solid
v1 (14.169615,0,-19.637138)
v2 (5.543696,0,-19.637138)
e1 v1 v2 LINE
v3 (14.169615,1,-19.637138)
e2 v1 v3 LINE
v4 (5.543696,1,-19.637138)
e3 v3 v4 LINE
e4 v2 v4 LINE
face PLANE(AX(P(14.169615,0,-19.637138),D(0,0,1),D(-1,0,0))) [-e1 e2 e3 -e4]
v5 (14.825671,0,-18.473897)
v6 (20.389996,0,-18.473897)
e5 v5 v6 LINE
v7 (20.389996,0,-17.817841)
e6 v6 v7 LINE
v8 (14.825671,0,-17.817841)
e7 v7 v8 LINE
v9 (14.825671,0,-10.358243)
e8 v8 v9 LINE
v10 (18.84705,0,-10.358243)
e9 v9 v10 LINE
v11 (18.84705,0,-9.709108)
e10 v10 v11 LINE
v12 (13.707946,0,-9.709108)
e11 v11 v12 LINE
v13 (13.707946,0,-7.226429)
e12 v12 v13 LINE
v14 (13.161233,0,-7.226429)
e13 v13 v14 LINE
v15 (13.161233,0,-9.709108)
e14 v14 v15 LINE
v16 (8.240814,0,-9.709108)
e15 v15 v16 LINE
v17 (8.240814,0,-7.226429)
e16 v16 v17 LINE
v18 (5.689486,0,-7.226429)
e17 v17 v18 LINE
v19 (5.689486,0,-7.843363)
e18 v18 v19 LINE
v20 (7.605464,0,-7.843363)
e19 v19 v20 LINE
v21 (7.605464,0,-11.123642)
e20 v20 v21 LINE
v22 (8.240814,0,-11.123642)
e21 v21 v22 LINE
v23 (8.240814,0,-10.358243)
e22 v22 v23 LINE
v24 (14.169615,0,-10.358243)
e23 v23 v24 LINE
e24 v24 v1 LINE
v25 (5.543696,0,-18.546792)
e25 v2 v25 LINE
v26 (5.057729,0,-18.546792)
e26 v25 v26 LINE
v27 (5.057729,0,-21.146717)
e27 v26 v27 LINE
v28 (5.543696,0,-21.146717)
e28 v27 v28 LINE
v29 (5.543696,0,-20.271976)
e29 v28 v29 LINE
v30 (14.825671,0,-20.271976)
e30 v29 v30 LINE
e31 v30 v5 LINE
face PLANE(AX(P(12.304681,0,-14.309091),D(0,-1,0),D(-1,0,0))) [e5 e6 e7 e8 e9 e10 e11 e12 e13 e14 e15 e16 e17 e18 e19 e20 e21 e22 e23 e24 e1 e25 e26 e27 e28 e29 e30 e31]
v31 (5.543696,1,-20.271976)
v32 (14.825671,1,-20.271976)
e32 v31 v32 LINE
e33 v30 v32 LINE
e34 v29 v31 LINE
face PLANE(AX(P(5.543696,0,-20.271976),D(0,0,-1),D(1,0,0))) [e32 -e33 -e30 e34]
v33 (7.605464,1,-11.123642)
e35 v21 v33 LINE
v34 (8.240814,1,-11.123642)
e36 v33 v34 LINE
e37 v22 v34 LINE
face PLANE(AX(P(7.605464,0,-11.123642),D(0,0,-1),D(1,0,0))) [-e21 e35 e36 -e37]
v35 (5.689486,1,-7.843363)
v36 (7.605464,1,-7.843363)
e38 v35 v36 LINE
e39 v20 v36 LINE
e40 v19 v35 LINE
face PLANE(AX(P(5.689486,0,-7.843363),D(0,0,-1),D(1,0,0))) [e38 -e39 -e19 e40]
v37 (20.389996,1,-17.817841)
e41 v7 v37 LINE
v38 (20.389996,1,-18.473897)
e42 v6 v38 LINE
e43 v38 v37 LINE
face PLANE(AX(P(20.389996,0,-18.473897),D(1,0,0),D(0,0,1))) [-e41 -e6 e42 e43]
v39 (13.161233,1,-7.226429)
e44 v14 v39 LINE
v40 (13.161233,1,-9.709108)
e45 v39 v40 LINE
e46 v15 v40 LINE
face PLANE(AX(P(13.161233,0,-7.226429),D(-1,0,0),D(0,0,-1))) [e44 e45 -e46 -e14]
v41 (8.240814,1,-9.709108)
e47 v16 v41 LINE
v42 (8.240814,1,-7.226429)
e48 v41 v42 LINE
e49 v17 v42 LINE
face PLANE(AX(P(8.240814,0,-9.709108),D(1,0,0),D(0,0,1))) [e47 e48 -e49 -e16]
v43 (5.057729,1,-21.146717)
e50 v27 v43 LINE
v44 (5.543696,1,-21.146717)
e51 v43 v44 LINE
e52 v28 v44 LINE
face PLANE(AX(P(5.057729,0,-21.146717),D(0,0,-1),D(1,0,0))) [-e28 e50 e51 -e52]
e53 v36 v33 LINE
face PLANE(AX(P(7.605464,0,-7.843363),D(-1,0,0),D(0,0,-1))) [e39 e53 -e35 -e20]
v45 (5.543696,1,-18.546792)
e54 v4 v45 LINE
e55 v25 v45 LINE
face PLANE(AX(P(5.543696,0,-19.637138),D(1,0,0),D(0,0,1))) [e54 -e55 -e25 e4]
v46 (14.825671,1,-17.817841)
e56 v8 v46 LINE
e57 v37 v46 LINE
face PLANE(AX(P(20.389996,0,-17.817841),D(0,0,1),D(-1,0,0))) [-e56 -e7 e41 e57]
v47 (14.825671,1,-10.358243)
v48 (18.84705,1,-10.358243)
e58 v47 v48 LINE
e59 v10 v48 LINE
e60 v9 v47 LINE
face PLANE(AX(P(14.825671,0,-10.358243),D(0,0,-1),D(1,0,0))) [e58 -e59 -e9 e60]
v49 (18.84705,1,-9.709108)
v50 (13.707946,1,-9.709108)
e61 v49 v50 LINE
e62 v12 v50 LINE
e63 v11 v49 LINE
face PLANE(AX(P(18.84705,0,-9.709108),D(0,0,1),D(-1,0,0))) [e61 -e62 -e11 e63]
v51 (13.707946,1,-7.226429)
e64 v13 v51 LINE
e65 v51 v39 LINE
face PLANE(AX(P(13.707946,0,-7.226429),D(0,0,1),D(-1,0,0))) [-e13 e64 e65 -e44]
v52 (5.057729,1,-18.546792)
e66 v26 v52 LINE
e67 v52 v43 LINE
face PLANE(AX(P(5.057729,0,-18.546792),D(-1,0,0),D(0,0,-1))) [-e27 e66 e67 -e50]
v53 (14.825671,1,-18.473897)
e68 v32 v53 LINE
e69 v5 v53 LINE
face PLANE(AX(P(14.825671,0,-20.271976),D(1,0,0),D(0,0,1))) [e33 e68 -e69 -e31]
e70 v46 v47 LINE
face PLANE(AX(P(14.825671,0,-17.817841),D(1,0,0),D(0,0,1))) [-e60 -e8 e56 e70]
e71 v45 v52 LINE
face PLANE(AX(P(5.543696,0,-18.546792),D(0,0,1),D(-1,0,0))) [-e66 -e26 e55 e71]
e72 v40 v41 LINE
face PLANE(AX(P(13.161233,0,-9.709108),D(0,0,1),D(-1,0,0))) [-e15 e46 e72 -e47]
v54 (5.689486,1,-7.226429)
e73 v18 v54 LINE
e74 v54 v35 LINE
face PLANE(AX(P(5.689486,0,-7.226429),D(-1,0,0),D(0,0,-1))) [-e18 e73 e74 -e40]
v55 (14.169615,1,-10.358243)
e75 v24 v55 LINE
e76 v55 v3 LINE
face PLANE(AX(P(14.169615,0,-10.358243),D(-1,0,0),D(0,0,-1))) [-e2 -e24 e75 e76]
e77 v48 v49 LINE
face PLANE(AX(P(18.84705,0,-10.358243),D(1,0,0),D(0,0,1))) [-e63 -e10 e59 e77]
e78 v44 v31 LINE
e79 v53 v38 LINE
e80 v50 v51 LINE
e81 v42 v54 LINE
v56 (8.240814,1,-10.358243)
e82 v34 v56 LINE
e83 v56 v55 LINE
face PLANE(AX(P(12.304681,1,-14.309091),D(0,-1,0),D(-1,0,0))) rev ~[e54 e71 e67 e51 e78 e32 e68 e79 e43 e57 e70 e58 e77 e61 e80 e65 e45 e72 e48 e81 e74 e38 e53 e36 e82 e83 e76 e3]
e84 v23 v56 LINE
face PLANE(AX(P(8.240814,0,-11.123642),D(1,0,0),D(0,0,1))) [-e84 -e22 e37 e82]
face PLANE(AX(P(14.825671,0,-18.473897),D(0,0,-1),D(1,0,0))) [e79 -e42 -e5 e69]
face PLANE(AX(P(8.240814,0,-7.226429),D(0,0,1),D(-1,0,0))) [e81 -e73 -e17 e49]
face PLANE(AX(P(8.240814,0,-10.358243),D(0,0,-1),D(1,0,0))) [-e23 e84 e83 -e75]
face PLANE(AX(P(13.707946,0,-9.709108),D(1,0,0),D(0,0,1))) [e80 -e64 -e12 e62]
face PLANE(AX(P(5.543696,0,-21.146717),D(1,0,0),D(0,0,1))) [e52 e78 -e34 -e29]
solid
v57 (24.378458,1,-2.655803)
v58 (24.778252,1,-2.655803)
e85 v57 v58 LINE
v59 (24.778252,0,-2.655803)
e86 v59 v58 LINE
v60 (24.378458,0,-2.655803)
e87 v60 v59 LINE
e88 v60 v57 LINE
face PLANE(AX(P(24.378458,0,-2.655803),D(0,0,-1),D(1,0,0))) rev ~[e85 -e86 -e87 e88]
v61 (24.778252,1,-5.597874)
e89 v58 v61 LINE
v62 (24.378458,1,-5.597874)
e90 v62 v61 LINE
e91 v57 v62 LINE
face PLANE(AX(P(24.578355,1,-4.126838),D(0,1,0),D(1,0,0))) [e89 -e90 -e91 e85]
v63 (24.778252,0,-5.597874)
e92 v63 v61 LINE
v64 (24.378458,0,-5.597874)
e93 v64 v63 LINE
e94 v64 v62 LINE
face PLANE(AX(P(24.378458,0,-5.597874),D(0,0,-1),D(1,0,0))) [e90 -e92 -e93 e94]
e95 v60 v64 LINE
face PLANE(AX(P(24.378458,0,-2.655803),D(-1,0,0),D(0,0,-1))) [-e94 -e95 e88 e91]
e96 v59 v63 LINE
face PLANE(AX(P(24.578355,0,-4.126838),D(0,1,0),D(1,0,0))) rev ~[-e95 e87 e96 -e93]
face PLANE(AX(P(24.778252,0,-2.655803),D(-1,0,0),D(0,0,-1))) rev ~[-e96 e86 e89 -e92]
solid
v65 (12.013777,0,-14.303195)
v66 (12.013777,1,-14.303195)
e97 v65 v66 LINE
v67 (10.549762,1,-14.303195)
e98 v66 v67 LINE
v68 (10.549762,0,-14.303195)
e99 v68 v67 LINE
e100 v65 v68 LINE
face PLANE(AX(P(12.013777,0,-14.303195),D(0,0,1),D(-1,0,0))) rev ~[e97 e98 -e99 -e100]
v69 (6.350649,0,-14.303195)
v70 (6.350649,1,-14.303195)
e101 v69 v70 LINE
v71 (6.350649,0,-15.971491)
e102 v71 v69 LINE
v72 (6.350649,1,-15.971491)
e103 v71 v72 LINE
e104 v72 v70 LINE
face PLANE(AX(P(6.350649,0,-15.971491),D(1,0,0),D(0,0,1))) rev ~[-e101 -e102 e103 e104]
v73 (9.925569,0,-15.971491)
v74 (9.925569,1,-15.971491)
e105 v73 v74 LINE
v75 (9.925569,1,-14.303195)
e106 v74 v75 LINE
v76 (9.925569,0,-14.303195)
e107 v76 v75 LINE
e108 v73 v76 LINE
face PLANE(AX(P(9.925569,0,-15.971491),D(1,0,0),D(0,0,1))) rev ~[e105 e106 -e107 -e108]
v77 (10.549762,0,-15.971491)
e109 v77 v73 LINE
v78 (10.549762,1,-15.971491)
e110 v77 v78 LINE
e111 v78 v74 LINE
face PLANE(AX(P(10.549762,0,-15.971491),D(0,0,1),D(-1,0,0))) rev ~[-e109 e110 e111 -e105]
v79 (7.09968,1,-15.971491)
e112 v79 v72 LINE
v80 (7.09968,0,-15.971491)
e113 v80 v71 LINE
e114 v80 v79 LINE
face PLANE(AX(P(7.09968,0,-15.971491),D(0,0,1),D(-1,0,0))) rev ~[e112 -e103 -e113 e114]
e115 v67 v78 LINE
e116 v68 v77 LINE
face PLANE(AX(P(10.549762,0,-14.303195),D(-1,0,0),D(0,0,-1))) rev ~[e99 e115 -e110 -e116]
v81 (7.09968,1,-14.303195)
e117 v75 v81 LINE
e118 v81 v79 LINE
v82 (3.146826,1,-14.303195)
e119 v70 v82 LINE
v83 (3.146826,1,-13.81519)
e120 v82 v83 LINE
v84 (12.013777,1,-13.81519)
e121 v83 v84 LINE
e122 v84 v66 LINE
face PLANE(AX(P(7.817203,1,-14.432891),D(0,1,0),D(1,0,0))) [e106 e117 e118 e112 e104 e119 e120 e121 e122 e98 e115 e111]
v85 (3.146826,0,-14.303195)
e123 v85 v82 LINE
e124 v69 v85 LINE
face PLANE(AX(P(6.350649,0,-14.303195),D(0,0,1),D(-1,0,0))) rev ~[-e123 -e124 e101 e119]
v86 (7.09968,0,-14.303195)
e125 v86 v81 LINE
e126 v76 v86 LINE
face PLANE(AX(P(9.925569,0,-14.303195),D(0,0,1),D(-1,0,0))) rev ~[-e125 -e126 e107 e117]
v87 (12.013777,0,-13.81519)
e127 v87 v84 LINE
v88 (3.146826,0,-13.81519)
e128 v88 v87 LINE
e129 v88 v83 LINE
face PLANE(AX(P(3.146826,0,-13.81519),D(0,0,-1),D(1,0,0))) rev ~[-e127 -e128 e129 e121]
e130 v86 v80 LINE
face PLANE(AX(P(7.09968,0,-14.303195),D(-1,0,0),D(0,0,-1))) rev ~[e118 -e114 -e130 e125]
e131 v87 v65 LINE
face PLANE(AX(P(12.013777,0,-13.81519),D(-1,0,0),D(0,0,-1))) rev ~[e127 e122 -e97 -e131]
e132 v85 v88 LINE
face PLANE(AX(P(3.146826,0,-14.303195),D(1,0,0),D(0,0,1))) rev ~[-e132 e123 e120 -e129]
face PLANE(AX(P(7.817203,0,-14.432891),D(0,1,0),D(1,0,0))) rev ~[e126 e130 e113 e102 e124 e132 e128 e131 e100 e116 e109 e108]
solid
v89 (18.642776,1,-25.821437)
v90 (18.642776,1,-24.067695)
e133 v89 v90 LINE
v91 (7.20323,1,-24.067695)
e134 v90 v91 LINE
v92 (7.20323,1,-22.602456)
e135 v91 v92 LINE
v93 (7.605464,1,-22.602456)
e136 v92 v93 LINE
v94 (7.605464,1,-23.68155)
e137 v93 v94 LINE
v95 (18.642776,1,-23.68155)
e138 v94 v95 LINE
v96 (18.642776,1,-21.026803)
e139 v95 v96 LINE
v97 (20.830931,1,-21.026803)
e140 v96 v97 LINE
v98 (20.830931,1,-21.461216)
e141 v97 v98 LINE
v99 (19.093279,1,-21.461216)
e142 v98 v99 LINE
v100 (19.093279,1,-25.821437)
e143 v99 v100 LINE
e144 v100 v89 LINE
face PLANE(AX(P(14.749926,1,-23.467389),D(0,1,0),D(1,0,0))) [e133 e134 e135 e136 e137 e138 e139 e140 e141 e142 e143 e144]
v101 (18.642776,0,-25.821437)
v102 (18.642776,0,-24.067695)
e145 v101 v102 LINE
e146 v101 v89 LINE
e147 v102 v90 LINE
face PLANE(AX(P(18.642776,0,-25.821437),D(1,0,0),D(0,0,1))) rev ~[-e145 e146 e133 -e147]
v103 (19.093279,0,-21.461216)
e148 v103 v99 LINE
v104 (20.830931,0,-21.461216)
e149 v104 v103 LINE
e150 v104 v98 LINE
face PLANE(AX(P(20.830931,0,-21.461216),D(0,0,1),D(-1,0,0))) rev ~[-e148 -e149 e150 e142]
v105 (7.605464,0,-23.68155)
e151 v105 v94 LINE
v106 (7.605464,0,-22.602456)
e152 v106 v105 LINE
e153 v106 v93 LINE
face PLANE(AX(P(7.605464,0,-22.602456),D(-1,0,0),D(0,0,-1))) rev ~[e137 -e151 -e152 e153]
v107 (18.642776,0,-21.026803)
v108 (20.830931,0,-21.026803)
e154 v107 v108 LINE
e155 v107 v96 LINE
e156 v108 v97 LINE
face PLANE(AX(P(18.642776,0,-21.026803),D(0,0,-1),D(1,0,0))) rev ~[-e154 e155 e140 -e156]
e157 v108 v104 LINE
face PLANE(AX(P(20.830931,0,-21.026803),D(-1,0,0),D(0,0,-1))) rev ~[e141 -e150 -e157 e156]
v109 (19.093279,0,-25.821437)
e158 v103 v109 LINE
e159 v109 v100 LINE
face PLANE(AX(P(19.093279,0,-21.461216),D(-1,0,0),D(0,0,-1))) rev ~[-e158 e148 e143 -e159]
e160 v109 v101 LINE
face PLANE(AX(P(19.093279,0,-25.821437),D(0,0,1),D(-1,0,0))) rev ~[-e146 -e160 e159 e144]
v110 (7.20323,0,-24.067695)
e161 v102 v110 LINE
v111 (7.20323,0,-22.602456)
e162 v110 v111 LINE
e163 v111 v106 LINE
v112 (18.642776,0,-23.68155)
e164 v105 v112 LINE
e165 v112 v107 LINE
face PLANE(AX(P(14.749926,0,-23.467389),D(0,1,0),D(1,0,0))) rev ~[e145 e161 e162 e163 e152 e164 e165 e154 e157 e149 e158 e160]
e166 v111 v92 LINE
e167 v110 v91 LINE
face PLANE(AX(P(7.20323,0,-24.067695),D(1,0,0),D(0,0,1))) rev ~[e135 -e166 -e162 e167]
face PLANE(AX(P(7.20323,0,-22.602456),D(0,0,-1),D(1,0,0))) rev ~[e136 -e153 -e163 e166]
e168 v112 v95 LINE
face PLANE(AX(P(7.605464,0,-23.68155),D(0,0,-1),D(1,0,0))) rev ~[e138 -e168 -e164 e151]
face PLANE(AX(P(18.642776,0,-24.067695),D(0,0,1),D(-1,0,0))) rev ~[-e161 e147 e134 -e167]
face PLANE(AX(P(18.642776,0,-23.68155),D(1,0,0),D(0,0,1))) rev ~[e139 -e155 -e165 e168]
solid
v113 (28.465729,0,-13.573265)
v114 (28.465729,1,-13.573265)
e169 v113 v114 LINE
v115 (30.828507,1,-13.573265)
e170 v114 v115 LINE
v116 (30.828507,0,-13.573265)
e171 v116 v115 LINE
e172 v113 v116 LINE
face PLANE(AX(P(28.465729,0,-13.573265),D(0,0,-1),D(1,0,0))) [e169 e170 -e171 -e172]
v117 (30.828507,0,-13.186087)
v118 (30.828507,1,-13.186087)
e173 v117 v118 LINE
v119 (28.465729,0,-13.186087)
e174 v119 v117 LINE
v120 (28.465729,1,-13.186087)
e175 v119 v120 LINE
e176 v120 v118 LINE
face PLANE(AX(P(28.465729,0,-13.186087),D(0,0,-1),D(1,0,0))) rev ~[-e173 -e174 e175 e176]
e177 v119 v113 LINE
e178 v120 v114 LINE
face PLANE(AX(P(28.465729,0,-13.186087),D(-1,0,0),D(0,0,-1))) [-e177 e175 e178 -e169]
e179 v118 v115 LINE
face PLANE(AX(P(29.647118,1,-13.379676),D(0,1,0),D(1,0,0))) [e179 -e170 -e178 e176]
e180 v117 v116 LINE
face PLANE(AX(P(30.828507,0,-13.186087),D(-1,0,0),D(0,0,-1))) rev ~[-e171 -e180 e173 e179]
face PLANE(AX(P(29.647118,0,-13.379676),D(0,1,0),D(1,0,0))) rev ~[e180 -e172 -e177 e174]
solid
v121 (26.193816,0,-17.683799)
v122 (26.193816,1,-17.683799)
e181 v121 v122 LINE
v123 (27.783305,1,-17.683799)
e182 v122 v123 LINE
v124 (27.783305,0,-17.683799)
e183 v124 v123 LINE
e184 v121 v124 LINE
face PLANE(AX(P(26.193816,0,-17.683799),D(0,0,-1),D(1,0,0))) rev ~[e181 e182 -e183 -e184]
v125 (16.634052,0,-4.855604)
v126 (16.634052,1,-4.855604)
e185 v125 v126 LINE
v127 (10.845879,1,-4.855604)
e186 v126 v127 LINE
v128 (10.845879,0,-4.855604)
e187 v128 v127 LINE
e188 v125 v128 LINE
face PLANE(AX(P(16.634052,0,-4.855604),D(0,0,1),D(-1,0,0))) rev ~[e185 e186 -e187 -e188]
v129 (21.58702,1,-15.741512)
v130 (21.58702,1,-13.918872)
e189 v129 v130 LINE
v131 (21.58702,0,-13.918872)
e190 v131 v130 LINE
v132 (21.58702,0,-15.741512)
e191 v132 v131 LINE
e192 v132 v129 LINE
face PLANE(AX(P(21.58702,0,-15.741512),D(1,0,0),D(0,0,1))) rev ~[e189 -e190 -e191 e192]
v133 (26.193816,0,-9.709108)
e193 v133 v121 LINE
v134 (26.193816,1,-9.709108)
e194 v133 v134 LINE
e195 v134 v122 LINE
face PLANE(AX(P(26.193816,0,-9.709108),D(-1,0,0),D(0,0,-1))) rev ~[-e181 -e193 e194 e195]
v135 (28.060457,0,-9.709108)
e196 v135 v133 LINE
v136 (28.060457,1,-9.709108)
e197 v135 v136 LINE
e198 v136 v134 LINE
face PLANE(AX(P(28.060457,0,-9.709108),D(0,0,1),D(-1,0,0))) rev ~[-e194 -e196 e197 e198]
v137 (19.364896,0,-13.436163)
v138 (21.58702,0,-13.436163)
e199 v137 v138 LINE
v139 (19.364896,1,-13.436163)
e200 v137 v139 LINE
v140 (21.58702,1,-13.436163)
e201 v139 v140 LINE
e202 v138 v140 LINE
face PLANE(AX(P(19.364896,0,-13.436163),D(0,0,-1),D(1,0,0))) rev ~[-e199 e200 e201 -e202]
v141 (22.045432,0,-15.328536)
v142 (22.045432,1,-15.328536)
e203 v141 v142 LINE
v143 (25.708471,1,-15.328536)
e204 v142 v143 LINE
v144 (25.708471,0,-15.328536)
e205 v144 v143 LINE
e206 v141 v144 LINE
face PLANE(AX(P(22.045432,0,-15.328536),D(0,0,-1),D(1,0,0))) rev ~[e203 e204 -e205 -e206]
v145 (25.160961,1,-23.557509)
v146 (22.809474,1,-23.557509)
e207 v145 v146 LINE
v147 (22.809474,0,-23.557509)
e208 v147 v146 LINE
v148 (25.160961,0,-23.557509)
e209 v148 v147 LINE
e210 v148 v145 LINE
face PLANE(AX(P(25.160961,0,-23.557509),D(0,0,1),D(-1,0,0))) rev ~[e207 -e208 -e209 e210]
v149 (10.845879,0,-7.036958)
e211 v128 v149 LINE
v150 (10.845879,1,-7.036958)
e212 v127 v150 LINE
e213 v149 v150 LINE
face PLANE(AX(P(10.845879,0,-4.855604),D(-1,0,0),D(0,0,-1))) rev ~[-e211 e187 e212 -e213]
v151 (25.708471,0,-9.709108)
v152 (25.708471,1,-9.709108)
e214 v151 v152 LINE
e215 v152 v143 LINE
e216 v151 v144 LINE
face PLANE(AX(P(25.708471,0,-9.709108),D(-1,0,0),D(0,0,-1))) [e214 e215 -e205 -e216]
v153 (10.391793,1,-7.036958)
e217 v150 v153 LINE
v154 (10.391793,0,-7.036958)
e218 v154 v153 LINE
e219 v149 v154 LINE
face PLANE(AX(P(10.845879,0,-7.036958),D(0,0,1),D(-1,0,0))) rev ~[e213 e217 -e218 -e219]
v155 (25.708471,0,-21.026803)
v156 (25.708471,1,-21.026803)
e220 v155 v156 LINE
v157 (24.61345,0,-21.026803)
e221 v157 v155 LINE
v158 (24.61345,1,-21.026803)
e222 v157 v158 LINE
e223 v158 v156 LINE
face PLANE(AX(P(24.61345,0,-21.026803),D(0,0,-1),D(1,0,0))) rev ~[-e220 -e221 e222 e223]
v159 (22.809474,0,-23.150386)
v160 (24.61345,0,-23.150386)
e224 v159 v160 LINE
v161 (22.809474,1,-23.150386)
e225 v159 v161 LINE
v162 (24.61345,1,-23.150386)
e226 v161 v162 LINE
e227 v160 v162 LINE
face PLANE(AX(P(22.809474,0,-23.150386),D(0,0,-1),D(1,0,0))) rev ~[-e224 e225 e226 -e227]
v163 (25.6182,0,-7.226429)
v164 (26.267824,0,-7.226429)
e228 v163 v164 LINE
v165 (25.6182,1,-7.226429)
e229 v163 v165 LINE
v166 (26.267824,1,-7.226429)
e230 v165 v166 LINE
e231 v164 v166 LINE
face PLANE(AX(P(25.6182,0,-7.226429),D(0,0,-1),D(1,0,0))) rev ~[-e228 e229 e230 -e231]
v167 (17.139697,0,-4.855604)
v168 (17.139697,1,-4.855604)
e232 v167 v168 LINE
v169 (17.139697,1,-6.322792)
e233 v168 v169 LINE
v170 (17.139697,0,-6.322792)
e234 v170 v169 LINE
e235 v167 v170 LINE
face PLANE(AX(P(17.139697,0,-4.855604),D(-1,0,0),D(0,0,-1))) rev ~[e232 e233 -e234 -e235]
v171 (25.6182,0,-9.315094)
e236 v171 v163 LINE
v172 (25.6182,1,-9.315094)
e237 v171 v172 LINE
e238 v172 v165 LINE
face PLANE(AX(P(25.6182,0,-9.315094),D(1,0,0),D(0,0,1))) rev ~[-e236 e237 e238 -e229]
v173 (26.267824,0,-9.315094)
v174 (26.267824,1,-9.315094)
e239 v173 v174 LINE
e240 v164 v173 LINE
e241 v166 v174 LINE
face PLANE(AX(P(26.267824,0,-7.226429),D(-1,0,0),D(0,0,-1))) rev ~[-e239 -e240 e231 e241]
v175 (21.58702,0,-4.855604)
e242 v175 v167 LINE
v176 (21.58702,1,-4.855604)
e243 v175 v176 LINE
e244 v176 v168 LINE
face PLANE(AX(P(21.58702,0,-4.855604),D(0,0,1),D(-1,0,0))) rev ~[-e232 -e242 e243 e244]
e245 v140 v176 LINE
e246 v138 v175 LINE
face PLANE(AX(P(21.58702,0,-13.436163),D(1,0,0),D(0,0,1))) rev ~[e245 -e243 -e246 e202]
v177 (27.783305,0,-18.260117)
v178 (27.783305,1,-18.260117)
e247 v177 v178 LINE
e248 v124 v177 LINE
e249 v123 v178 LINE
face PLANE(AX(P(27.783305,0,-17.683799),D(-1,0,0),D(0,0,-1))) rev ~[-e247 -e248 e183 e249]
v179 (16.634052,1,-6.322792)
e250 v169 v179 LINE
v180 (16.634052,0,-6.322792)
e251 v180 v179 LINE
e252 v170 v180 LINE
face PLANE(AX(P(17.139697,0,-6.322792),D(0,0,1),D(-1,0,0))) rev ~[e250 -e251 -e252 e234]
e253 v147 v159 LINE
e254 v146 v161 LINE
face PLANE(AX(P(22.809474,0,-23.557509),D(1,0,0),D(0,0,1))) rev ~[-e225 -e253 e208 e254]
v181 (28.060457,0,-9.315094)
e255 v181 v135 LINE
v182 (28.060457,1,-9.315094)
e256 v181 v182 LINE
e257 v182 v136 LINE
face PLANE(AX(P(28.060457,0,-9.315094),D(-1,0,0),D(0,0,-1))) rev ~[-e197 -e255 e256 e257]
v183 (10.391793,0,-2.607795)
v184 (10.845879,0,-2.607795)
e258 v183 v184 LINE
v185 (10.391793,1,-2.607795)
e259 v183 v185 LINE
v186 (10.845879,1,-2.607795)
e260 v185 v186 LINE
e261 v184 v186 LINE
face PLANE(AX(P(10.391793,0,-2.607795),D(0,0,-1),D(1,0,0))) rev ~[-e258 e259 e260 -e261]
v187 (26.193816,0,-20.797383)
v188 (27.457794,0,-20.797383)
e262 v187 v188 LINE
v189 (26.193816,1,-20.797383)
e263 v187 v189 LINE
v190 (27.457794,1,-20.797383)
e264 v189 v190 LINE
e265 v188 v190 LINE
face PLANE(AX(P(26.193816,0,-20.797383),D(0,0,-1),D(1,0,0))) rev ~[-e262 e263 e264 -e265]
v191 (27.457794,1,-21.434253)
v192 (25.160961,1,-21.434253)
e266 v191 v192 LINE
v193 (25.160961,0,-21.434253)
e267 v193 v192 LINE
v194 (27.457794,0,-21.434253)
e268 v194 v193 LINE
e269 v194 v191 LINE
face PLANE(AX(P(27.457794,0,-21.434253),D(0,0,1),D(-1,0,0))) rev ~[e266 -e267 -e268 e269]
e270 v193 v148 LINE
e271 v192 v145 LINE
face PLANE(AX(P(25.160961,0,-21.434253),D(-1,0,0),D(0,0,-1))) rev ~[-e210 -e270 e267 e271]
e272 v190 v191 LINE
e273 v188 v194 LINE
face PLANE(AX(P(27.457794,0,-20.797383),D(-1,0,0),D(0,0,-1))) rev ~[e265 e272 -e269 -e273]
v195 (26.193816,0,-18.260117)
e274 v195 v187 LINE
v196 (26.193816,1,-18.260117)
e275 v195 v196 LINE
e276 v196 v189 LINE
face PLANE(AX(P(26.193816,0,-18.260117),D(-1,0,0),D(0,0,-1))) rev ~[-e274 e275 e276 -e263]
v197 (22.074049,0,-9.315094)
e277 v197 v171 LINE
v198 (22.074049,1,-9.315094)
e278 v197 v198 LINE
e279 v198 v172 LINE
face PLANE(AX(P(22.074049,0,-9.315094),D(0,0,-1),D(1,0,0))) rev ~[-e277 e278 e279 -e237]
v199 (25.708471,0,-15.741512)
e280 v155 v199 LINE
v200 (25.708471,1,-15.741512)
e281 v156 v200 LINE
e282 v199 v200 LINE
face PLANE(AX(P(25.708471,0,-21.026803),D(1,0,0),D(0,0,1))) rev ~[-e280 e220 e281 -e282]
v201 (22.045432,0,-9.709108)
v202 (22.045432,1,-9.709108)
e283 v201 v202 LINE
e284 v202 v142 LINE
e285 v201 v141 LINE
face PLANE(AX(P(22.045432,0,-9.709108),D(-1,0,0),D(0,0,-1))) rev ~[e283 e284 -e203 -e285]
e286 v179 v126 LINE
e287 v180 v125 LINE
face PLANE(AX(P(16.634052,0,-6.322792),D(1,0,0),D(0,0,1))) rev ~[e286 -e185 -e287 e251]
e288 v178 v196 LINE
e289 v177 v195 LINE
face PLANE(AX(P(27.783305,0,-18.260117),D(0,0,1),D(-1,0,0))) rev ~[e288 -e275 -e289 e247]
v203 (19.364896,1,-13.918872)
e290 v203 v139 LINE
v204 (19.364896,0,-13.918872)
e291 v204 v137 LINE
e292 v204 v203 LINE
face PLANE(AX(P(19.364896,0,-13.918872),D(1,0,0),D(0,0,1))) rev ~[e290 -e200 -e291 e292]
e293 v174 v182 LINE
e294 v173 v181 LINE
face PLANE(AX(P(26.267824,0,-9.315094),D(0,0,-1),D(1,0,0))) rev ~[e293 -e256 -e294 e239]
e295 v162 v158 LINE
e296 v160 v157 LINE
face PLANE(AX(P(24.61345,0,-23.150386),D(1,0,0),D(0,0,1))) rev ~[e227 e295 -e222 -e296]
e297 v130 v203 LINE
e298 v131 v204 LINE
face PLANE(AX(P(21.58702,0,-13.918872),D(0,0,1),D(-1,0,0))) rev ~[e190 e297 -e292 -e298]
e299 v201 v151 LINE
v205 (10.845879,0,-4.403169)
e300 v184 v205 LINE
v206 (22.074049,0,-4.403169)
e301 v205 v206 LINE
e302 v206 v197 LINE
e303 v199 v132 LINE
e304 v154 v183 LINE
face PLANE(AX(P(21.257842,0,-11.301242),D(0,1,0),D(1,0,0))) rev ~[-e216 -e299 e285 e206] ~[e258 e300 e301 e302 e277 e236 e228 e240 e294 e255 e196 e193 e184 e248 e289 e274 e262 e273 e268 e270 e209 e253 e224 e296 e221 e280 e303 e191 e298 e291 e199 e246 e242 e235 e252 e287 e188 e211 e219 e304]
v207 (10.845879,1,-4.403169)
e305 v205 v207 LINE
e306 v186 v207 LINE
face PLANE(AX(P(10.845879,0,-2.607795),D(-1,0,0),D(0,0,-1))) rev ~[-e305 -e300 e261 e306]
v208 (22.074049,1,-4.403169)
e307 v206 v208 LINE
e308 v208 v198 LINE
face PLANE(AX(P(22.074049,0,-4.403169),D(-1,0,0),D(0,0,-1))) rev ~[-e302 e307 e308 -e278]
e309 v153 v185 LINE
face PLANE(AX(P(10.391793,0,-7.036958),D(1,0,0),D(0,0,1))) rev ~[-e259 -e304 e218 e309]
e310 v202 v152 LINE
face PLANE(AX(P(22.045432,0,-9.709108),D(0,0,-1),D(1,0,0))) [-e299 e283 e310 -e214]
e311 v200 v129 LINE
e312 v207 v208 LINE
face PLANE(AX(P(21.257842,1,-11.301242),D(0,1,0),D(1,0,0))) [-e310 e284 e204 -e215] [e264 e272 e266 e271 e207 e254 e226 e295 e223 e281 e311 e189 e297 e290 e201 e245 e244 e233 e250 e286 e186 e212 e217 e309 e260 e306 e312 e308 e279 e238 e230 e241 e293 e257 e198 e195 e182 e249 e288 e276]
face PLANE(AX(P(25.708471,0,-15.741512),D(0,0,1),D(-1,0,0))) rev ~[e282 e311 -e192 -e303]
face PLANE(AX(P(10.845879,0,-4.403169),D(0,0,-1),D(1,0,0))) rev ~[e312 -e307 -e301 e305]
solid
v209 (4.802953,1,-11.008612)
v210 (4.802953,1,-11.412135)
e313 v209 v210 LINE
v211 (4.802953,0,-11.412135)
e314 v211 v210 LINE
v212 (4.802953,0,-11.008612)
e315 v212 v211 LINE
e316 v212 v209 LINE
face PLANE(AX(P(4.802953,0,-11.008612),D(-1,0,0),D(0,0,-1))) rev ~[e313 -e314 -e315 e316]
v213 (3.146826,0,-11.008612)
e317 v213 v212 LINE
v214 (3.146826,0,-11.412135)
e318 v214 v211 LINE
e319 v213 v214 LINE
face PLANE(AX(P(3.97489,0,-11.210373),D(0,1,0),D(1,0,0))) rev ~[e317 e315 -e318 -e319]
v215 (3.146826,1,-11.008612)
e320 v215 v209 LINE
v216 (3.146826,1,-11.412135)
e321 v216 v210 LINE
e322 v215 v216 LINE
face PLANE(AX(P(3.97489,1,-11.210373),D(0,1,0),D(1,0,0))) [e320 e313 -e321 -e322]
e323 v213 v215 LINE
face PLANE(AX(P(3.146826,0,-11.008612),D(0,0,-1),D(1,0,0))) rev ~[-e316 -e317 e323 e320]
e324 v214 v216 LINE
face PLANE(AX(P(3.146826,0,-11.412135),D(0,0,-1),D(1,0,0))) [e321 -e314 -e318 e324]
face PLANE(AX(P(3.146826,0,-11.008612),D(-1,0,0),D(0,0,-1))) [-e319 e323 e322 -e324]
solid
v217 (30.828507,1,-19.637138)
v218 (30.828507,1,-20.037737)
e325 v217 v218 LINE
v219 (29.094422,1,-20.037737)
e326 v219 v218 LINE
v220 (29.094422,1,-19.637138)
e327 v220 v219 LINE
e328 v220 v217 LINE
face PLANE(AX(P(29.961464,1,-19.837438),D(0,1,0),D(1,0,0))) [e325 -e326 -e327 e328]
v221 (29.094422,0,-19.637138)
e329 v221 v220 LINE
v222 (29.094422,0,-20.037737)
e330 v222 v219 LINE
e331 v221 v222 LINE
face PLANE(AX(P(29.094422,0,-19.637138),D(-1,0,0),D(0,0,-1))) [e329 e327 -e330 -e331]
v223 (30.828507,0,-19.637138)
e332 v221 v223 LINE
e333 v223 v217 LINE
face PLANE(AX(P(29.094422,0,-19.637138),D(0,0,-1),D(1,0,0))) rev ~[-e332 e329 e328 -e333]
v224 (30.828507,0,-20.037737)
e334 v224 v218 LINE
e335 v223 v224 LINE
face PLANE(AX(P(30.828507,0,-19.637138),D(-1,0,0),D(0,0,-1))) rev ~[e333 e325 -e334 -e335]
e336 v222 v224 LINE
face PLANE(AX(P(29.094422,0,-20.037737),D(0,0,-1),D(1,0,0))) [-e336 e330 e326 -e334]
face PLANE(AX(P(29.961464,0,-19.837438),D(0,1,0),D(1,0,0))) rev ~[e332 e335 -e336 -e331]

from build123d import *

# Parameters (mm, degrees)
BOSS_EXTRUDE1_DEPTH   = 1
SKETCH2_W             = 1.656127113
SKETCH2_H             = 0.403523357
BOSS_EXTRUDE1_2_DEPTH = 1
SKETCH2_W_2           = 0.399793695
SKETCH2_H_2           = 2.942071549
BOSS_EXTRUDE1_3_DEPTH = 1
SKETCH2_W_3           = 2.362778432
SKETCH2_H_3           = 0.387177978
BOSS_EXTRUDE1_4_DEPTH = 1
SKETCH2_W_4           = 1.734085152
SKETCH2_H_4           = 0.400598673
BOSS_EXTRUDE1_5_DEPTH = 1
SKETCH2_W_5           = 3.663039273
SKETCH2_H_5           = 5.619427971
BOSS_EXTRUDE1_6_DEPTH = 1
BOSS_EXTRUDE1_7_DEPTH = 1
BOSS_EXTRUDE1_8_DEPTH = 1


with BuildPart() as part:
    # Sketch2 → Boss-Extrude1 (new body)
    with BuildSketch(Plane(origin=(0, 0, 0), x_dir=(1, 0, 0), z_dir=(0, 1, 0))):
        Polygon((7.605464492, 22.6024559), (7.605464492, 23.681549605), (18.642776244, 23.681549605), (18.642776244, 21.02680261), (20.830931343, 21.02680261), (20.830931343, 21.461215754), (19.093278764, 21.461215754), (19.093278764, 25.821436577), (18.642776244, 25.821436577), (18.642776244, 24.067694623), (7.203230099, 24.067694623), (7.203230099, 22.6024559), align=None)
    extrude(amount=BOSS_EXTRUDE1_DEPTH)


with BuildPart() as body_2:
    # Sketch2 → Boss-Extrude1 2 (new body)
    with BuildSketch(Plane(origin=(0, 0, 0), x_dir=(1, 0, 0), z_dir=(0, 1, 0))):
        with Locations((3.974889679, 11.210373468)):
            Rectangle(SKETCH2_W, SKETCH2_H)
    extrude(amount=BOSS_EXTRUDE1_2_DEPTH)


with BuildPart() as body_3:
    # Sketch2 → Boss-Extrude1 3 (new body)
    with BuildSketch(Plane(origin=(0, 0, 0), x_dir=(1, 0, 0), z_dir=(0, 1, 0))):
        with Locations((24.57835525, 4.126838364)):
            Rectangle(SKETCH2_W_2, SKETCH2_H_2)
    extrude(amount=BOSS_EXTRUDE1_3_DEPTH)


with BuildPart() as body_4:
    # Sketch2 → Boss-Extrude1 4 (new body)
    with BuildSketch(Plane(origin=(0, 0, 0), x_dir=(1, 0, 0), z_dir=(0, 1, 0))):
        with Locations((29.647117733, 13.379675947)):
            Rectangle(SKETCH2_W_3, SKETCH2_H_3)
    extrude(amount=BOSS_EXTRUDE1_4_DEPTH)


with BuildPart() as body_5:
    # Sketch2 → Boss-Extrude1 5 (new body)
    with BuildSketch(Plane(origin=(0, 0, 0), x_dir=(1, 0, 0), z_dir=(0, 1, 0))):
        with Locations((29.961464373, 19.837437698)):
            Rectangle(SKETCH2_W_4, SKETCH2_H_4)
    extrude(amount=BOSS_EXTRUDE1_5_DEPTH)


with BuildPart() as body_6:
    # Sketch2 → Boss-Extrude1 6 (new body)
    with BuildSketch(Plane(origin=(0, 0, 0), x_dir=(1, 0, 0), z_dir=(0, 1, 0))):
        Polygon((22.809474168, 23.557509364), (22.809474168, 23.15038634), (24.613450326, 23.15038634), (24.613450326, 21.02680261), (25.708470873, 21.02680261), (25.708470873, 15.741512218), (21.587019629, 15.741512218), (21.587019629, 13.918871592), (19.364896126, 13.918871592), (19.364896126, 13.436163116), (21.587019629, 13.436163116), (21.587019629, 4.855603822), (17.139697437, 4.855603822), (17.139697437, 6.322792074), (16.634051986, 6.322792074), (16.634051986, 4.855603822), (10.845878767, 4.855603822), (10.845878767, 7.036958249), (10.391792573, 7.036958249), (10.391792573, 2.607794633), (10.845878767, 2.607794633), (10.845878767, 4.403168883), (22.074048821, 4.403168883), (22.074048821, 9.315093548), (25.618199821, 9.315093548), (25.618199821, 7.226429154), (26.267823787, 7.226429154), (26.267823787, 9.315093548), (28.060457007, 9.315093548), (28.060457007, 9.709107862), (26.193815993, 9.709107862), (26.193815993, 17.683798541), (27.783305254, 17.683798541), (27.783305254, 18.260117173), (26.193815993, 18.260117173), (26.193815993, 20.797383382), (27.457794112, 20.797383382), (27.457794112, 21.434253008), (25.160960599, 21.434253008), (25.160960599, 23.557509364), align=None)
        with Locations((23.876951237, 12.518821847)):
            Rectangle(SKETCH2_W_5, SKETCH2_H_5, mode=Mode.SUBTRACT)
    extrude(amount=BOSS_EXTRUDE1_6_DEPTH)


with BuildPart() as body_7:
    # Sketch2 → Boss-Extrude1 7 (new body)
    with BuildSketch(Plane(origin=(0, 0, 0), x_dir=(1, 0, 0), z_dir=(0, 1, 0))):
        Polygon((5.057728665, 21.146716907), (5.543695939, 21.146716907), (5.543695939, 20.271975814), (14.825670872, 20.271975814), (14.825670872, 18.4738969), (20.389996159, 18.4738969), (20.389996159, 17.81784108), (14.825670872, 17.81784108), (14.825670872, 10.358243425), (18.847050064, 10.358243425), (18.847050064, 9.709107862), (13.707946142, 9.709107862), (13.707946142, 7.226429154), (13.161232959, 7.226429154), (13.161232959, 9.709107862), (8.24081431, 9.709107862), (8.24081431, 7.226429154), (5.689486122, 7.226429154), (5.689486122, 7.843362782), (7.605464492, 7.843362782), (7.605464492, 11.123641881), (8.24081431, 11.123641881), (8.24081431, 10.358243425), (14.169615052, 10.358243425), (14.169615052, 19.637138361), (5.543695939, 19.637138361), (5.543695939, 18.546791991), (5.057728665, 18.546791991), align=None)
    extrude(amount=BOSS_EXTRUDE1_7_DEPTH)


with BuildPart() as body_8:
    # Sketch2 → Boss-Extrude1 8 (new body)
    with BuildSketch(Plane(origin=(0, 0, 0), x_dir=(1, 0, 0), z_dir=(0, 1, 0))):
        Polygon((3.146826122, 13.815189626), (12.013776669, 13.815189626), (12.013776669, 14.303194592), (10.549761771, 14.303194592), (10.549761771, 15.971490638), (9.925569373, 15.971490638), (9.925569373, 14.303194592), (7.099680151, 14.303194592), (7.099680151, 15.971490638), (6.350649274, 15.971490638), (6.350649274, 14.303194592), (3.146826122, 14.303194592), align=None)
    extrude(amount=BOSS_EXTRUDE1_8_DEPTH)


solid = Compound([part.part, body_2.part, body_3.part, body_4.part, body_5.part, body_6.part, body_7.part, body_8.part])
